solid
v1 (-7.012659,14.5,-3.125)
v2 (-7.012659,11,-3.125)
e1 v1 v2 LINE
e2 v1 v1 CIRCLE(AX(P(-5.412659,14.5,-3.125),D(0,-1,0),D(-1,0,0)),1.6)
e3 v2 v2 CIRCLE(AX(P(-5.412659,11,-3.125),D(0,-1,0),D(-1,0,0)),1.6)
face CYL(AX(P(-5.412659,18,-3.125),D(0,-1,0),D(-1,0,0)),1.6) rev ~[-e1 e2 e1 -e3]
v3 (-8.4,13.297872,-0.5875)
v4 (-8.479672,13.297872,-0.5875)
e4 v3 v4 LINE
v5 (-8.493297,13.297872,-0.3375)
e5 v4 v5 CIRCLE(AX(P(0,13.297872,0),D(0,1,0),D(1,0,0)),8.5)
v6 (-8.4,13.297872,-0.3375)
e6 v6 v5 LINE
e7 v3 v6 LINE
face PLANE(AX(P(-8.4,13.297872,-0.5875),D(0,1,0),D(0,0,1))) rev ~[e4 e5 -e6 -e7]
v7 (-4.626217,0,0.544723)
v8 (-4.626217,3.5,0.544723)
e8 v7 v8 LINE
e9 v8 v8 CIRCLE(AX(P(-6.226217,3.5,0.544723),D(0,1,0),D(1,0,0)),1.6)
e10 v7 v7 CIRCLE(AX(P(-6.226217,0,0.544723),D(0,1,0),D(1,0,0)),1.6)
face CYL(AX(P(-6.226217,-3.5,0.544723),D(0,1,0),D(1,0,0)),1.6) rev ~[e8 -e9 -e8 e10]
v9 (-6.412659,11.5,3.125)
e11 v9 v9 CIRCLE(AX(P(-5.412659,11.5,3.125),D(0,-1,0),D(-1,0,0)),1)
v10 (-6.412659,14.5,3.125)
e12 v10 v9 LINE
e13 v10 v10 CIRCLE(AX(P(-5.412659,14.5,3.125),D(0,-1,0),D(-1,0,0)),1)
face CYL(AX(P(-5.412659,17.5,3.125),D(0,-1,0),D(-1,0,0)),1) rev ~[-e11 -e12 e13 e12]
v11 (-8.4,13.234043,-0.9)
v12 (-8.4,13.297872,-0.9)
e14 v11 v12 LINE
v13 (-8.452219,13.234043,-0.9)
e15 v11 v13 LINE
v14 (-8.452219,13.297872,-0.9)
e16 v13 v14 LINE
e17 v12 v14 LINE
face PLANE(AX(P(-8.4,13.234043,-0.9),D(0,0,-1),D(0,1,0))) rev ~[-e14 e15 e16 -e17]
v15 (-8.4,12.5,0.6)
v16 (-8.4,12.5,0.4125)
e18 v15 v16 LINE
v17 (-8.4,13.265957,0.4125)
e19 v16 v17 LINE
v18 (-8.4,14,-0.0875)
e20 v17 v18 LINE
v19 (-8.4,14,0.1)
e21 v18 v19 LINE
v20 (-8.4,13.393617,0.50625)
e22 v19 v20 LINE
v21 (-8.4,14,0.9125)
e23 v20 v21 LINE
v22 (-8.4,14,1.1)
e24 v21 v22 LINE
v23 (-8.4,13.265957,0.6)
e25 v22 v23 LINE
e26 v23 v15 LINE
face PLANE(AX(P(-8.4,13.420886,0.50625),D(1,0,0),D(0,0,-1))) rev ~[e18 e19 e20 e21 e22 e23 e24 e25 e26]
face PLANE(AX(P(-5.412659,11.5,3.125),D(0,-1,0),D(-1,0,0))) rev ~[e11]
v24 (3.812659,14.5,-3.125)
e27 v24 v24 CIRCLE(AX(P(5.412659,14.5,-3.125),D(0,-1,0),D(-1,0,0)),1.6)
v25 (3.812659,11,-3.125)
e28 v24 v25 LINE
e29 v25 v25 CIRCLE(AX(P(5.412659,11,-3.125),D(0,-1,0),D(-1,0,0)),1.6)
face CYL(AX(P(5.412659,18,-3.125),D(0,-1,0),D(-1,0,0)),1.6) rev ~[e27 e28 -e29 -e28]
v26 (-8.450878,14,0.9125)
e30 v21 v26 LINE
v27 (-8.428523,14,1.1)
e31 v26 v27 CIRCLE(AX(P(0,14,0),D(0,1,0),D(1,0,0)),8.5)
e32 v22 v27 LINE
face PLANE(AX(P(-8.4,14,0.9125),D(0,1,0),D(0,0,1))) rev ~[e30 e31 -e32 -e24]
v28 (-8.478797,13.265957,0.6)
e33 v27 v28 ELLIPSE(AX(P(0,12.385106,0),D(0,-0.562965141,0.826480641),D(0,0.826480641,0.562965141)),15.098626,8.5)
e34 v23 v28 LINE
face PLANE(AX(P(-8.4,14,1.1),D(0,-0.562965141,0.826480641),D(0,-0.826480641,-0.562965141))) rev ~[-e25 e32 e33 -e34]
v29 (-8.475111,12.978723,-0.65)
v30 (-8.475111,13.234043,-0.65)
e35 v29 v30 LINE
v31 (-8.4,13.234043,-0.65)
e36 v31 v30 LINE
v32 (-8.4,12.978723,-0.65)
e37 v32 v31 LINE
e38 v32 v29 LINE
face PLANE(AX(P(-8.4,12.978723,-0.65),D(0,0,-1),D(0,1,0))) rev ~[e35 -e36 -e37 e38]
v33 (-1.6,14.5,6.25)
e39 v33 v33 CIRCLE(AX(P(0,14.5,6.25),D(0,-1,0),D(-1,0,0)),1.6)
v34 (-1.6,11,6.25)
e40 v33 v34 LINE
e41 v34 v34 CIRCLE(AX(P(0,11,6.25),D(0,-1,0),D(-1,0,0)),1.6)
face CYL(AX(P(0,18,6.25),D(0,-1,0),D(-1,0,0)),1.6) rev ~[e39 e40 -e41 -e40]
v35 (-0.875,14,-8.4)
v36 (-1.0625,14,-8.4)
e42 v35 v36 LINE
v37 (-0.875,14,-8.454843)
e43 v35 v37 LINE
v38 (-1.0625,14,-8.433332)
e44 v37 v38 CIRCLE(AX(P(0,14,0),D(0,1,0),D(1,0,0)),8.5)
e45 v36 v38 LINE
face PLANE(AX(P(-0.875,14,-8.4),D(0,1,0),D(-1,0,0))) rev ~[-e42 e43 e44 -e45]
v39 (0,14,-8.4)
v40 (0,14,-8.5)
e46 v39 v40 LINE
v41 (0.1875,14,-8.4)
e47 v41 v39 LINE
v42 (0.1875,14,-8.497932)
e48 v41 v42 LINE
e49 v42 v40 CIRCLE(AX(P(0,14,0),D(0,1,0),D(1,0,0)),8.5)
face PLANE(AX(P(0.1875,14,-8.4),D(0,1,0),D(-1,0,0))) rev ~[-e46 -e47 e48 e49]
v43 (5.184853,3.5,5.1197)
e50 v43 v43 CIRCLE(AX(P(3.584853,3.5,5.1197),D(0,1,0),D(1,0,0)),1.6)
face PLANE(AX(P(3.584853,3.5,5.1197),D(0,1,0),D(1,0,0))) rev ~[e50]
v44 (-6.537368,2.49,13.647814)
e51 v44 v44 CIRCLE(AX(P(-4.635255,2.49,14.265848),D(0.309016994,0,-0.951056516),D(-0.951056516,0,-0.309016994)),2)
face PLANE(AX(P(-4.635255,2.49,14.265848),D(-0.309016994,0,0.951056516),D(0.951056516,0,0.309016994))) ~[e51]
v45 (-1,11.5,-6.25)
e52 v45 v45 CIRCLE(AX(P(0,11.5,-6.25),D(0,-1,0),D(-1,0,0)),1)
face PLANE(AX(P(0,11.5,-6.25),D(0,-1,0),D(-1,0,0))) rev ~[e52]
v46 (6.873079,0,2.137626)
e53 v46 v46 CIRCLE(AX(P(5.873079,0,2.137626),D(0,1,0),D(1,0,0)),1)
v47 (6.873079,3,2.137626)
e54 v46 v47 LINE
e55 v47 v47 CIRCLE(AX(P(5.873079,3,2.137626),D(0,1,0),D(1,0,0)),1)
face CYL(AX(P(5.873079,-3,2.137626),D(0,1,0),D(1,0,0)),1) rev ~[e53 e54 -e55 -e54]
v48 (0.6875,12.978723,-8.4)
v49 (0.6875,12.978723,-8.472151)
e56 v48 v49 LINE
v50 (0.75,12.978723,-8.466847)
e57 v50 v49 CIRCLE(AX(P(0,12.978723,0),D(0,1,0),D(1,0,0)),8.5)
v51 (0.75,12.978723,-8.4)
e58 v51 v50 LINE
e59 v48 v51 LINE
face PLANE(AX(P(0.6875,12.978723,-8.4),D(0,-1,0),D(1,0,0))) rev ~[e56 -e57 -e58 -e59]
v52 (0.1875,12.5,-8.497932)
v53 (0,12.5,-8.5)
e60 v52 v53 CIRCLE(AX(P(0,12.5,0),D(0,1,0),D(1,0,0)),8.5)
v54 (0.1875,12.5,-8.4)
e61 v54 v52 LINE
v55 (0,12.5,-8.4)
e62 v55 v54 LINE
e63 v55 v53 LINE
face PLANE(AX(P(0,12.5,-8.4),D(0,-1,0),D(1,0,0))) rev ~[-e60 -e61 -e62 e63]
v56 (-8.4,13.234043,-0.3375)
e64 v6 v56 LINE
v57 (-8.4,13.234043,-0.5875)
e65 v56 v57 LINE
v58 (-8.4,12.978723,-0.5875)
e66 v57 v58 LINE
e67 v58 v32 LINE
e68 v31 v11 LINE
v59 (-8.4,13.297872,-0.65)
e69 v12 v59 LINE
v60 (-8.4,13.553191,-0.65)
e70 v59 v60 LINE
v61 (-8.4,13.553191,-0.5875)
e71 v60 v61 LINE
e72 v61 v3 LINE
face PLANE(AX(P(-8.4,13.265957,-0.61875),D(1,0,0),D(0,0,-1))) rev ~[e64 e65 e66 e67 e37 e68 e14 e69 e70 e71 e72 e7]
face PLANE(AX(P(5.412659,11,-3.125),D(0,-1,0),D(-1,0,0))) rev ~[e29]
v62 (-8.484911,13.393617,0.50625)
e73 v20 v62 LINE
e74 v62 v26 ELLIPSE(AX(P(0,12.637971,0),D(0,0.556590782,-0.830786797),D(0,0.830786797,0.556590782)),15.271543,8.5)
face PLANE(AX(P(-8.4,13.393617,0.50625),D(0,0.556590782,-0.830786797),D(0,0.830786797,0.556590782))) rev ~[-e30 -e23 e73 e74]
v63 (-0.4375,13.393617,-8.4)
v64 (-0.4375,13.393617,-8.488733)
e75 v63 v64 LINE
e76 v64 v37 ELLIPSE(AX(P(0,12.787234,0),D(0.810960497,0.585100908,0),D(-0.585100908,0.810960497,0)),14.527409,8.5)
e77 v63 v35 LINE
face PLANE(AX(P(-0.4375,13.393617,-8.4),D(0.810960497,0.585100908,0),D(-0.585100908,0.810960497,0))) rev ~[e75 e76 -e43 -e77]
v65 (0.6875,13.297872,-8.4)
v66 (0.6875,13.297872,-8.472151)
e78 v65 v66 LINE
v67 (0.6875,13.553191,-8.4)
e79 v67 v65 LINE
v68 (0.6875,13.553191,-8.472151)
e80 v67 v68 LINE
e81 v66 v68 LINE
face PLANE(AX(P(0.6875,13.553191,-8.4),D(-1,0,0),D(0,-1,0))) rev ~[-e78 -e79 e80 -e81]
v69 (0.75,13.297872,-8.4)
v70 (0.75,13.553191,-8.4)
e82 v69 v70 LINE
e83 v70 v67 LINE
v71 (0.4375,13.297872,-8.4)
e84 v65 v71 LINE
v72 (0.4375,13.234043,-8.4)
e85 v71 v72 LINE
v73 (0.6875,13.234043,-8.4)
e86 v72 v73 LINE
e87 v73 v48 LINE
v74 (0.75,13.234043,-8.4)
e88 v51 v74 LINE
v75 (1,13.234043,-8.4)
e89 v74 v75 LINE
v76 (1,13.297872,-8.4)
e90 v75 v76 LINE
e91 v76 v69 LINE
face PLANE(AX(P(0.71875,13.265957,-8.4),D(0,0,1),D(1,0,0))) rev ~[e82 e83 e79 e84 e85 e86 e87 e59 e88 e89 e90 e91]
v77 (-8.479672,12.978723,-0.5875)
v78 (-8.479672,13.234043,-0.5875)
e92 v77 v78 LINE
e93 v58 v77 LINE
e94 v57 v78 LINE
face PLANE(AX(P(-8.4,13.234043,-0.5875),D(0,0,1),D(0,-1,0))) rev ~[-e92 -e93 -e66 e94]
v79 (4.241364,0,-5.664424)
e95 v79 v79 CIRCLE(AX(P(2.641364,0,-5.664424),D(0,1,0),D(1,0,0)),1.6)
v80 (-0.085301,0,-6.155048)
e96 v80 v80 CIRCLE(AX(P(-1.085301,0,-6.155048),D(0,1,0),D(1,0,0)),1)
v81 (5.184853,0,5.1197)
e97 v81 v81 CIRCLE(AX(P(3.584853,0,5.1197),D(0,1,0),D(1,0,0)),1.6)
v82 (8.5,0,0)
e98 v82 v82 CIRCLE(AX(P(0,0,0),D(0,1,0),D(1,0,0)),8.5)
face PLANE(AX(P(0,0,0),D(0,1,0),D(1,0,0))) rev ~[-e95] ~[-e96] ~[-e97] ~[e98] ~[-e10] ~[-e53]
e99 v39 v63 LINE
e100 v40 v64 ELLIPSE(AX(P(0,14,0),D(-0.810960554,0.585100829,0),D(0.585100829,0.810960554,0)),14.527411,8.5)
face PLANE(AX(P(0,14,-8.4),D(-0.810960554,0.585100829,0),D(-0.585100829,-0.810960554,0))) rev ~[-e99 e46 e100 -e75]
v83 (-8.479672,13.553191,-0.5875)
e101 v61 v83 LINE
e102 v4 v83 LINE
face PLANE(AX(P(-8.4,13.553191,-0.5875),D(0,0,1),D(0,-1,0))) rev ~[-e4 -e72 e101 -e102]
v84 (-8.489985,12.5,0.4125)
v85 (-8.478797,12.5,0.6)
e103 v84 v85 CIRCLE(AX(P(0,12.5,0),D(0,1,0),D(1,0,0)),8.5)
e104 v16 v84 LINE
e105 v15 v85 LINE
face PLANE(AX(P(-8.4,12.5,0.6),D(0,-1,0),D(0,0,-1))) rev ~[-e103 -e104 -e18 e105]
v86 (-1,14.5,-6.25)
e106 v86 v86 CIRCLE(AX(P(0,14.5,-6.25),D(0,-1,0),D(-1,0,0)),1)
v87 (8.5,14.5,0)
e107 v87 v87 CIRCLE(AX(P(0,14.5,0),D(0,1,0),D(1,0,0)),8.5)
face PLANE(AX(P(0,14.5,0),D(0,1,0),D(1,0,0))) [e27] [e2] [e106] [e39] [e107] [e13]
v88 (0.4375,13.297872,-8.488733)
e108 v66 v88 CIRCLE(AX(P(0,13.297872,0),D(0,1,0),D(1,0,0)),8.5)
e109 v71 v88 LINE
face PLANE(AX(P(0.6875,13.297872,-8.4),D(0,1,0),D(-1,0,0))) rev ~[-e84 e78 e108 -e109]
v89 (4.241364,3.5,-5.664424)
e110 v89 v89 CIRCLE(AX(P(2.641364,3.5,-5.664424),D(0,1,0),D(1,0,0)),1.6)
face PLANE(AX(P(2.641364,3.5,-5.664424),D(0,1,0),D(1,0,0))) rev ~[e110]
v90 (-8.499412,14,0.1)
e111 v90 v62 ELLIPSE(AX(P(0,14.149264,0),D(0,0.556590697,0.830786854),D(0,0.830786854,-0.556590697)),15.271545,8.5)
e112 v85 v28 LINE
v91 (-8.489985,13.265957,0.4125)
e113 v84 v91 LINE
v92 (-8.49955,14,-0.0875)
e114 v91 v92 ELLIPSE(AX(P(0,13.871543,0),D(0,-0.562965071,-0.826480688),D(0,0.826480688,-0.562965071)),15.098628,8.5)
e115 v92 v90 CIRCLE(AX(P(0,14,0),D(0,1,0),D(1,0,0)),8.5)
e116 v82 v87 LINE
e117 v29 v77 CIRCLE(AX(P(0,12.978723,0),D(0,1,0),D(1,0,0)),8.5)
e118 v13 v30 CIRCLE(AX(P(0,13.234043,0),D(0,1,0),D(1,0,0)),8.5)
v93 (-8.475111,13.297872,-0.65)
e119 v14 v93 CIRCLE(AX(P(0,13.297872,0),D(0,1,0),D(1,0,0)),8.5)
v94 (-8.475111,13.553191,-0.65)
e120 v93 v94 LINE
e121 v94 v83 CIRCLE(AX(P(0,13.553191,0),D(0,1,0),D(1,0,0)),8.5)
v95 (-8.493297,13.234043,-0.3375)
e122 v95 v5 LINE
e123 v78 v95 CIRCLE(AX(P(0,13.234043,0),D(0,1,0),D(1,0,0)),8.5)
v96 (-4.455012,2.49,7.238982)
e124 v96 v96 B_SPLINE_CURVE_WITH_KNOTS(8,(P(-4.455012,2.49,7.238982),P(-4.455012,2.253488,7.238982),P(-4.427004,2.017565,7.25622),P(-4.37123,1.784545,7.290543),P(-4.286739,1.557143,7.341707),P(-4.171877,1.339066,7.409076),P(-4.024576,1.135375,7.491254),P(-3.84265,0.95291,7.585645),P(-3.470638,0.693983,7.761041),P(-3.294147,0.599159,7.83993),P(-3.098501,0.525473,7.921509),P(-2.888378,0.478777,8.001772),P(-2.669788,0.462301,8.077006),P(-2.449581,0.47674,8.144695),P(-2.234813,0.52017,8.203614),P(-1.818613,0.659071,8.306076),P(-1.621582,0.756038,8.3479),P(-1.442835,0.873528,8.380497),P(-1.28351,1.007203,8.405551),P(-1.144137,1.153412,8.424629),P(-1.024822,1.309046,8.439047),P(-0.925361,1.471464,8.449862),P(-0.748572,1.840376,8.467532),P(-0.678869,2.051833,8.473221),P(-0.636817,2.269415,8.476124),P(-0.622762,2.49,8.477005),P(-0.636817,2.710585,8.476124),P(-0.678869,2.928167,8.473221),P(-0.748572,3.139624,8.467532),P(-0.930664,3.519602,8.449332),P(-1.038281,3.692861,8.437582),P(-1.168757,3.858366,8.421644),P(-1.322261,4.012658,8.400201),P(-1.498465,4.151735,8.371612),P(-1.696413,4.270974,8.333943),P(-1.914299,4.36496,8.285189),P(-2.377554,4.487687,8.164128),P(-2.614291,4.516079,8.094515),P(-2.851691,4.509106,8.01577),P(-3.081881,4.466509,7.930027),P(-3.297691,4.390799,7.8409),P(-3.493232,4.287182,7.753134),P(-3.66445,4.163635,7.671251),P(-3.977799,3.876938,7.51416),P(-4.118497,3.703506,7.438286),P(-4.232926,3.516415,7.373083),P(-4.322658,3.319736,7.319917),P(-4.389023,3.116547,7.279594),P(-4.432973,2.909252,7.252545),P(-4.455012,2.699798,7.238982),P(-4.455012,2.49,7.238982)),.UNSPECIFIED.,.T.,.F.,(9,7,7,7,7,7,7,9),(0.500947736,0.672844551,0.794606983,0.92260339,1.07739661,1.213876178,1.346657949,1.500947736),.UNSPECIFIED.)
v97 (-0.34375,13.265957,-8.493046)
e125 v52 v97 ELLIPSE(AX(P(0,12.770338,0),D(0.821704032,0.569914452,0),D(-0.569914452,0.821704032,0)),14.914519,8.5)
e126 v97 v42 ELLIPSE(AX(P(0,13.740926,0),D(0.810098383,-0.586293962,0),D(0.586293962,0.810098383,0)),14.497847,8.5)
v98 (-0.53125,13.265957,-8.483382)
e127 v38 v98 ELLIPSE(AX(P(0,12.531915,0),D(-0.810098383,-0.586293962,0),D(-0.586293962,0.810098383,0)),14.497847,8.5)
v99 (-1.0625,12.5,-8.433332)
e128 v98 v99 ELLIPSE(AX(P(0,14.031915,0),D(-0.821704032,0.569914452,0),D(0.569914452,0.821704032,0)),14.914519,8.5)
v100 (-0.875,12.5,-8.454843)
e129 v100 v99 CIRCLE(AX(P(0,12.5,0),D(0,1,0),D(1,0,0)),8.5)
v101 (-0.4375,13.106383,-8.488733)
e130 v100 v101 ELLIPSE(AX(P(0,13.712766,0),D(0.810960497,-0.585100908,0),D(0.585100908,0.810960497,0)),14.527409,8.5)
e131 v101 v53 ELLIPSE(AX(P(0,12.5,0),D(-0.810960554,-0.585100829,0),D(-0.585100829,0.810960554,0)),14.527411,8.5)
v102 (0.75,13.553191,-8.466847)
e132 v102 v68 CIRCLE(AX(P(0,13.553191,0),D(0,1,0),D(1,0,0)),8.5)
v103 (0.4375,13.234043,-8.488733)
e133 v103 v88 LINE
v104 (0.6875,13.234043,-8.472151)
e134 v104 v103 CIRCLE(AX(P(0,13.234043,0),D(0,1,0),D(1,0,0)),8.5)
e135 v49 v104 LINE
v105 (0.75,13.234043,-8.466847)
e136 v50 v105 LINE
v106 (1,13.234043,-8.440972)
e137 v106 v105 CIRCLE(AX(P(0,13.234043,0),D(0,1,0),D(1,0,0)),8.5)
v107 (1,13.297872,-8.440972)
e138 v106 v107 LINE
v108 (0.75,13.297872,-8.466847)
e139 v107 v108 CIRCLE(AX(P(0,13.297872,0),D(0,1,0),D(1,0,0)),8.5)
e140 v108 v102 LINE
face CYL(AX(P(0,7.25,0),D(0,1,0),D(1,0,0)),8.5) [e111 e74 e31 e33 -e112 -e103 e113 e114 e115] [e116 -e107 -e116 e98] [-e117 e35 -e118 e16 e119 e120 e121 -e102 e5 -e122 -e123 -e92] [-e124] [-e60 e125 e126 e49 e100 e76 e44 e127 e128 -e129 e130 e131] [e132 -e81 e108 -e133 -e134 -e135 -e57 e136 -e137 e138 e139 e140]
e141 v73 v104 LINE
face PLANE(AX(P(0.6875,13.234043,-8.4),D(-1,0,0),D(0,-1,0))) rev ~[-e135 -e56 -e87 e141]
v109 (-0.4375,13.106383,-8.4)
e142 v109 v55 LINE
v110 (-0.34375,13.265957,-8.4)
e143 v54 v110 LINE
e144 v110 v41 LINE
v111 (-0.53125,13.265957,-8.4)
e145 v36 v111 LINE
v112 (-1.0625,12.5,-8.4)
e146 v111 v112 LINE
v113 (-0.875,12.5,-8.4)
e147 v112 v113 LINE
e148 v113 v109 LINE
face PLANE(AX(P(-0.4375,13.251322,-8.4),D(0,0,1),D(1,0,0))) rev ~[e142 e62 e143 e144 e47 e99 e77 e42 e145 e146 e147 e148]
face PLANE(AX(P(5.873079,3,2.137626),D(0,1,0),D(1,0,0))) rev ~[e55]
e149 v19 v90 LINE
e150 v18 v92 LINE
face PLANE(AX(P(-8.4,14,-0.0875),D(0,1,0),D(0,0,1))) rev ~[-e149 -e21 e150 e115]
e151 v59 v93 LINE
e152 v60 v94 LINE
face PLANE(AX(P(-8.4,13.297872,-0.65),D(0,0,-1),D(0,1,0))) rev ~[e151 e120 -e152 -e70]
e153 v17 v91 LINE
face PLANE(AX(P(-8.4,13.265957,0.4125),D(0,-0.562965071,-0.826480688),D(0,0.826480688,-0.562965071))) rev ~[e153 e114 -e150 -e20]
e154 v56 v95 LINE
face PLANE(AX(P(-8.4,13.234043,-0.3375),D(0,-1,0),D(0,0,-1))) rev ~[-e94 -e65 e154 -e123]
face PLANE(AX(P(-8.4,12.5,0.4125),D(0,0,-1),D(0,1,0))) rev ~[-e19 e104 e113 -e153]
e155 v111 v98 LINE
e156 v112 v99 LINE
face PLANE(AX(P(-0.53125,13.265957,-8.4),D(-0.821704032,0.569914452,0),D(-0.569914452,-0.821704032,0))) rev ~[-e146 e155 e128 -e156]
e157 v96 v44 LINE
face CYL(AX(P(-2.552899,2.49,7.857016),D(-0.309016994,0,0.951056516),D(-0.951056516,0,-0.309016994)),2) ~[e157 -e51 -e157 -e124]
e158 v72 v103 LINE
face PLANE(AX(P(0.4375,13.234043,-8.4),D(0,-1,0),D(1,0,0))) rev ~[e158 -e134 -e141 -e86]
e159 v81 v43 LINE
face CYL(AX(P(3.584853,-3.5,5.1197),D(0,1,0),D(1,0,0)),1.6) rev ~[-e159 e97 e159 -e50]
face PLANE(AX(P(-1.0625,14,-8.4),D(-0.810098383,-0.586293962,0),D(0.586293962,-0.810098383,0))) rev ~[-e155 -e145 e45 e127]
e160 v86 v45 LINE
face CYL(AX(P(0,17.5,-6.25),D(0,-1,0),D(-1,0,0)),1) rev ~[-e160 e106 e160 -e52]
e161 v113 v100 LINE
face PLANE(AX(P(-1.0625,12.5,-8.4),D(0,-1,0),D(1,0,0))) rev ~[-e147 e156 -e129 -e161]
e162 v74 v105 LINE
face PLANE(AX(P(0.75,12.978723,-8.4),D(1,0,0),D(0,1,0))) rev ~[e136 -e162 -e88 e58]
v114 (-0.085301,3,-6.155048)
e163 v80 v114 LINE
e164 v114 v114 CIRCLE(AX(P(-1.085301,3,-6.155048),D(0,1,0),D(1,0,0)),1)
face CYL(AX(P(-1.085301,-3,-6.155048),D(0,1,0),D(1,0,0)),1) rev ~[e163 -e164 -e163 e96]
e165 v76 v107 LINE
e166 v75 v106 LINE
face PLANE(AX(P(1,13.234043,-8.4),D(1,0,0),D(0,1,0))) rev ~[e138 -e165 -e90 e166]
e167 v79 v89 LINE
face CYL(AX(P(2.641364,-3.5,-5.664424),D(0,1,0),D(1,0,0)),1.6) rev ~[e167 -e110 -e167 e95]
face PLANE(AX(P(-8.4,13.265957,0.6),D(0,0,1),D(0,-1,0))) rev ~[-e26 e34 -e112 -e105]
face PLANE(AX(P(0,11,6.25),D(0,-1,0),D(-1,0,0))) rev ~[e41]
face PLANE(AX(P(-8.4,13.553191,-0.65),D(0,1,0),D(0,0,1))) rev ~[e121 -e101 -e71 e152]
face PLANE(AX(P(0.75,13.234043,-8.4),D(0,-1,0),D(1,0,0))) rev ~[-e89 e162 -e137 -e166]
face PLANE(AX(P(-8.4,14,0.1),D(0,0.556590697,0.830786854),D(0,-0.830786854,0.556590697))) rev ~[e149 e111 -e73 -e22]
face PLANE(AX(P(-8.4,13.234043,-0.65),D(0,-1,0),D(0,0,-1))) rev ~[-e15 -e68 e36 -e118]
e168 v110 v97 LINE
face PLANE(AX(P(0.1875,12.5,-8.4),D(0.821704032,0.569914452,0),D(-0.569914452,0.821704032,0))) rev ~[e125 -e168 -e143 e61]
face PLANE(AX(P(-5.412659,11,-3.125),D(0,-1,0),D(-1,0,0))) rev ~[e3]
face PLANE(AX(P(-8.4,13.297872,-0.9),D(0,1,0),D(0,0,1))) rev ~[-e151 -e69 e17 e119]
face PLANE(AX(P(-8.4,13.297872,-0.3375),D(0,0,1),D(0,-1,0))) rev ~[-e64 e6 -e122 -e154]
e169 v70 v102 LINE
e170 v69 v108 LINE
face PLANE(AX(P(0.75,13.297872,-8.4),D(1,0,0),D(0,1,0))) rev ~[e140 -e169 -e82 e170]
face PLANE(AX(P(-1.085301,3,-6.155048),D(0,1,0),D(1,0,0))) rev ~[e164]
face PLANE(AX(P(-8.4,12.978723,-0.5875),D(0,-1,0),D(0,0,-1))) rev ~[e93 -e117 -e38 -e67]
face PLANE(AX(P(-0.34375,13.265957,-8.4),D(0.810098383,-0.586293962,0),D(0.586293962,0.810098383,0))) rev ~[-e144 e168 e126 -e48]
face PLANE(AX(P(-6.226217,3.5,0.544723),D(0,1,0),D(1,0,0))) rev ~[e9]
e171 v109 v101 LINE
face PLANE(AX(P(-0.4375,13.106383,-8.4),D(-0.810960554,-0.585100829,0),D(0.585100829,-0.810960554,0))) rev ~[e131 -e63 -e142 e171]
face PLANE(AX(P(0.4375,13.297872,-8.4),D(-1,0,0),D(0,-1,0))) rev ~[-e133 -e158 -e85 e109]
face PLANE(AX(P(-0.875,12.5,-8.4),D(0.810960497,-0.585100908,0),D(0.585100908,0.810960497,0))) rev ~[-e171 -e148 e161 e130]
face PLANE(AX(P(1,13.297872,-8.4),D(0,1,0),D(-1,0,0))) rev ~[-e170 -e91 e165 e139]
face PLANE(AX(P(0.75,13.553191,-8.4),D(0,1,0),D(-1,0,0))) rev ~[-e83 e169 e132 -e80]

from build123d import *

# Parameters (mm, degrees)
SKETCH1_W                    = 8.5
SKETCH1_H                    = 14.5
CUT_EXTRUDE1_REACH           = 2.1
CUT_EXTRUDE2_REACH           = 2.1
CUT_EXTRUDE3_REACH           = 2.1
CUT_EXTRUDE4_REACH           = 2.1
F_2_0_2_DIAMETER_HOLE1_D     = 2
F_2_0_2_DIAMETER_HOLE1_DEPTH = 3
F_2_0_2_DIAMETER_HOLE2_D     = 3.2
F_2_0_2_DIAMETER_HOLE2_DEPTH = 3.5
F_2_0_2_DIAMETER_HOLE3_D     = 2
F_2_0_2_DIAMETER_HOLE3_DEPTH = 3
F_2_0_2_DIAMETER_HOLE4_D     = 3.2
F_2_0_2_DIAMETER_HOLE4_DEPTH = 3.5


with BuildPart() as part:
    # Sketch1 → Revolve1 (revolve)
    with BuildSketch(Plane(origin=(0, 0, 0), x_dir=(-1, 0, 0), z_dir=(0, 0, -1))):
        with Locations((-4.25, 7.25)):
            Rectangle(SKETCH1_W, SKETCH1_H)
    revolve(axis=Axis((0, 0, 0), (0, 1, 0)))

    # Sketch2 → Cut-Extrude1 (cut, up to next)
    with BuildSketch(Plane(origin=(-8.4, 0, 0), x_dir=(0, 0, -1), z_dir=(1, 0, 0)), mode=Mode.PRIVATE) as cut_extrude1_sk1:
        Polygon((0.9, 13.234042555), (0.9, 13.297872335), (0.649999993, 13.297872335), (0.649999993, 13.553191453), (0.587500007, 13.553191453), (0.587500007, 13.297872335), (0.3375, 13.297872335), (0.3375, 13.234042555), (0.587500007, 13.234042555), (0.587500007, 12.978723392), (0.649999993, 12.978723392), (0.649999993, 13.234042555), align=None)
    cut_extrude1_tool1 = extrude(cut_extrude1_sk1.sketch, amount=-CUT_EXTRUDE1_REACH, mode=Mode.PRIVATE) & part.part
    add(cut_extrude1_tool1.solids().sort_by_distance((-8.4, 13.265957, -0.61875))[0], mode=Mode.SUBTRACT)

    # Sketch3 → Cut-Extrude2 (cut, up to next)
    with BuildSketch(Plane.XY.offset(-8.4), mode=Mode.PRIVATE) as cut_extrude2_sk1:
        Polygon((1, 13.234042555), (1, 13.297872335), (0.749999993, 13.297872335), (0.749999993, 13.553191453), (0.687500007, 13.553191453), (0.687500007, 13.297872335), (0.4375, 13.297872335), (0.4375, 13.234042555), (0.687500007, 13.234042555), (0.687500007, 12.978723392), (0.749999993, 12.978723392), (0.749999993, 13.234042555), align=None)
    cut_extrude2_tool1 = extrude(cut_extrude2_sk1.sketch, amount=-CUT_EXTRUDE2_REACH, mode=Mode.PRIVATE) & part.part
    add(cut_extrude2_tool1.solids().sort_by_distance((0.71875, 13.265957, -8.4))[0], mode=Mode.SUBTRACT)

    # Sketch4 → Cut-Extrude3 (cut, up to next)
    with BuildSketch(Plane.XY.offset(-8.4), mode=Mode.PRIVATE) as cut_extrude3_sk1:
        Polygon((-0.875, 12.5), (-0.43749997, 13.106382996), (-3e-08, 12.5), (0.18749997, 12.5), (-0.34374997, 13.265957445), (0.18749997, 14), (-3e-08, 14), (-0.43749997, 13.393617004), (-0.875, 14), (-1.0625, 14), (-0.53125006, 13.265957445), (-1.0625, 12.5), align=None)
    cut_extrude3_tool1 = extrude(cut_extrude3_sk1.sketch, amount=-CUT_EXTRUDE3_REACH, mode=Mode.PRIVATE) & part.part
    add(cut_extrude3_tool1.solids().sort_by_distance((-0.4375, 13.242259, -8.4))[0], mode=Mode.SUBTRACT)

    # Sketch5 → Cut-Extrude4 (cut, up to next)
    with BuildSketch(Plane(origin=(-8.4, 0, 0), x_dir=(0, 0, -1), z_dir=(1, 0, 0)), mode=Mode.PRIVATE) as cut_extrude4_sk1:
        Polygon((-1.10000006, 14), (-0.6, 13.265957445), (-0.6, 12.5), (-0.4125, 12.5), (-0.4125, 13.265957445), (0.08749997, 14), (-0.10000003, 14), (-0.50625, 13.393617004), (-0.91250006, 14), align=None)
    cut_extrude4_tool1 = extrude(cut_extrude4_sk1.sketch, amount=-CUT_EXTRUDE4_REACH, mode=Mode.PRIVATE) & part.part
    add(cut_extrude4_tool1.solids().sort_by_distance((-8.4, 13.37564, 0.50625))[0], mode=Mode.SUBTRACT)

    # Sketch6 → Revolve2 (revolve)
    with BuildSketch(Plane(origin=(0, 2.49, 0), x_dir=(1, 0, 0), z_dir=(0, 1, 0))):
        Polygon((-6.537367948, -13.647813756), (-4.635254916, -14.265847744), (-2.552899345, -7.857016287), (-4.455012378, -7.238982298), align=None)
    revolve(axis=Axis((-4.635254916, 2.49, 14.265847744), (0.309016994, 0, -0.951056516)))

    # Ø2.0 (2) Diameter Hole1
    with Locations(Plane(origin=(0, 0, 0), x_dir=(-1, 0, 0), z_dir=(0, -1, 0))):
        with Locations((1.08530111, 6.155048456), (-5.87307888, -2.137625896)):
            Hole(F_2_0_2_DIAMETER_HOLE1_D / 2, depth=F_2_0_2_DIAMETER_HOLE1_DEPTH)

    # Ø2.0 (2) Diameter Hole2
    with Locations(Plane(origin=(0, 0, 0), x_dir=(-1, 0, 0), z_dir=(0, -1, 0))):
        with Locations((6.226216863, -0.544723392), (-3.584852727, -5.119700277), (-2.641364136, 5.664423669)):
            Hole(F_2_0_2_DIAMETER_HOLE2_D / 2, depth=F_2_0_2_DIAMETER_HOLE2_DEPTH)

    # Ø2.0 (2) Diameter Hole3
    with Locations(Plane(origin=(0, 14.5, 0), x_dir=(1, 0, 0), z_dir=(0, 1, 0))):
        with Locations((0, 6.25), (-5.412658774, -3.125)):
            Hole(F_2_0_2_DIAMETER_HOLE3_D / 2, depth=F_2_0_2_DIAMETER_HOLE3_DEPTH)

    # Ø2.0 (2) Diameter Hole4
    with Locations(Plane(origin=(0, 14.5, 0), x_dir=(1, 0, 0), z_dir=(0, 1, 0))):
        with Locations((0, -6.25), (5.412658774, 3.125), (-5.412658774, 3.125)):
            Hole(F_2_0_2_DIAMETER_HOLE4_D / 2, depth=F_2_0_2_DIAMETER_HOLE4_DEPTH)


solid = part.part
